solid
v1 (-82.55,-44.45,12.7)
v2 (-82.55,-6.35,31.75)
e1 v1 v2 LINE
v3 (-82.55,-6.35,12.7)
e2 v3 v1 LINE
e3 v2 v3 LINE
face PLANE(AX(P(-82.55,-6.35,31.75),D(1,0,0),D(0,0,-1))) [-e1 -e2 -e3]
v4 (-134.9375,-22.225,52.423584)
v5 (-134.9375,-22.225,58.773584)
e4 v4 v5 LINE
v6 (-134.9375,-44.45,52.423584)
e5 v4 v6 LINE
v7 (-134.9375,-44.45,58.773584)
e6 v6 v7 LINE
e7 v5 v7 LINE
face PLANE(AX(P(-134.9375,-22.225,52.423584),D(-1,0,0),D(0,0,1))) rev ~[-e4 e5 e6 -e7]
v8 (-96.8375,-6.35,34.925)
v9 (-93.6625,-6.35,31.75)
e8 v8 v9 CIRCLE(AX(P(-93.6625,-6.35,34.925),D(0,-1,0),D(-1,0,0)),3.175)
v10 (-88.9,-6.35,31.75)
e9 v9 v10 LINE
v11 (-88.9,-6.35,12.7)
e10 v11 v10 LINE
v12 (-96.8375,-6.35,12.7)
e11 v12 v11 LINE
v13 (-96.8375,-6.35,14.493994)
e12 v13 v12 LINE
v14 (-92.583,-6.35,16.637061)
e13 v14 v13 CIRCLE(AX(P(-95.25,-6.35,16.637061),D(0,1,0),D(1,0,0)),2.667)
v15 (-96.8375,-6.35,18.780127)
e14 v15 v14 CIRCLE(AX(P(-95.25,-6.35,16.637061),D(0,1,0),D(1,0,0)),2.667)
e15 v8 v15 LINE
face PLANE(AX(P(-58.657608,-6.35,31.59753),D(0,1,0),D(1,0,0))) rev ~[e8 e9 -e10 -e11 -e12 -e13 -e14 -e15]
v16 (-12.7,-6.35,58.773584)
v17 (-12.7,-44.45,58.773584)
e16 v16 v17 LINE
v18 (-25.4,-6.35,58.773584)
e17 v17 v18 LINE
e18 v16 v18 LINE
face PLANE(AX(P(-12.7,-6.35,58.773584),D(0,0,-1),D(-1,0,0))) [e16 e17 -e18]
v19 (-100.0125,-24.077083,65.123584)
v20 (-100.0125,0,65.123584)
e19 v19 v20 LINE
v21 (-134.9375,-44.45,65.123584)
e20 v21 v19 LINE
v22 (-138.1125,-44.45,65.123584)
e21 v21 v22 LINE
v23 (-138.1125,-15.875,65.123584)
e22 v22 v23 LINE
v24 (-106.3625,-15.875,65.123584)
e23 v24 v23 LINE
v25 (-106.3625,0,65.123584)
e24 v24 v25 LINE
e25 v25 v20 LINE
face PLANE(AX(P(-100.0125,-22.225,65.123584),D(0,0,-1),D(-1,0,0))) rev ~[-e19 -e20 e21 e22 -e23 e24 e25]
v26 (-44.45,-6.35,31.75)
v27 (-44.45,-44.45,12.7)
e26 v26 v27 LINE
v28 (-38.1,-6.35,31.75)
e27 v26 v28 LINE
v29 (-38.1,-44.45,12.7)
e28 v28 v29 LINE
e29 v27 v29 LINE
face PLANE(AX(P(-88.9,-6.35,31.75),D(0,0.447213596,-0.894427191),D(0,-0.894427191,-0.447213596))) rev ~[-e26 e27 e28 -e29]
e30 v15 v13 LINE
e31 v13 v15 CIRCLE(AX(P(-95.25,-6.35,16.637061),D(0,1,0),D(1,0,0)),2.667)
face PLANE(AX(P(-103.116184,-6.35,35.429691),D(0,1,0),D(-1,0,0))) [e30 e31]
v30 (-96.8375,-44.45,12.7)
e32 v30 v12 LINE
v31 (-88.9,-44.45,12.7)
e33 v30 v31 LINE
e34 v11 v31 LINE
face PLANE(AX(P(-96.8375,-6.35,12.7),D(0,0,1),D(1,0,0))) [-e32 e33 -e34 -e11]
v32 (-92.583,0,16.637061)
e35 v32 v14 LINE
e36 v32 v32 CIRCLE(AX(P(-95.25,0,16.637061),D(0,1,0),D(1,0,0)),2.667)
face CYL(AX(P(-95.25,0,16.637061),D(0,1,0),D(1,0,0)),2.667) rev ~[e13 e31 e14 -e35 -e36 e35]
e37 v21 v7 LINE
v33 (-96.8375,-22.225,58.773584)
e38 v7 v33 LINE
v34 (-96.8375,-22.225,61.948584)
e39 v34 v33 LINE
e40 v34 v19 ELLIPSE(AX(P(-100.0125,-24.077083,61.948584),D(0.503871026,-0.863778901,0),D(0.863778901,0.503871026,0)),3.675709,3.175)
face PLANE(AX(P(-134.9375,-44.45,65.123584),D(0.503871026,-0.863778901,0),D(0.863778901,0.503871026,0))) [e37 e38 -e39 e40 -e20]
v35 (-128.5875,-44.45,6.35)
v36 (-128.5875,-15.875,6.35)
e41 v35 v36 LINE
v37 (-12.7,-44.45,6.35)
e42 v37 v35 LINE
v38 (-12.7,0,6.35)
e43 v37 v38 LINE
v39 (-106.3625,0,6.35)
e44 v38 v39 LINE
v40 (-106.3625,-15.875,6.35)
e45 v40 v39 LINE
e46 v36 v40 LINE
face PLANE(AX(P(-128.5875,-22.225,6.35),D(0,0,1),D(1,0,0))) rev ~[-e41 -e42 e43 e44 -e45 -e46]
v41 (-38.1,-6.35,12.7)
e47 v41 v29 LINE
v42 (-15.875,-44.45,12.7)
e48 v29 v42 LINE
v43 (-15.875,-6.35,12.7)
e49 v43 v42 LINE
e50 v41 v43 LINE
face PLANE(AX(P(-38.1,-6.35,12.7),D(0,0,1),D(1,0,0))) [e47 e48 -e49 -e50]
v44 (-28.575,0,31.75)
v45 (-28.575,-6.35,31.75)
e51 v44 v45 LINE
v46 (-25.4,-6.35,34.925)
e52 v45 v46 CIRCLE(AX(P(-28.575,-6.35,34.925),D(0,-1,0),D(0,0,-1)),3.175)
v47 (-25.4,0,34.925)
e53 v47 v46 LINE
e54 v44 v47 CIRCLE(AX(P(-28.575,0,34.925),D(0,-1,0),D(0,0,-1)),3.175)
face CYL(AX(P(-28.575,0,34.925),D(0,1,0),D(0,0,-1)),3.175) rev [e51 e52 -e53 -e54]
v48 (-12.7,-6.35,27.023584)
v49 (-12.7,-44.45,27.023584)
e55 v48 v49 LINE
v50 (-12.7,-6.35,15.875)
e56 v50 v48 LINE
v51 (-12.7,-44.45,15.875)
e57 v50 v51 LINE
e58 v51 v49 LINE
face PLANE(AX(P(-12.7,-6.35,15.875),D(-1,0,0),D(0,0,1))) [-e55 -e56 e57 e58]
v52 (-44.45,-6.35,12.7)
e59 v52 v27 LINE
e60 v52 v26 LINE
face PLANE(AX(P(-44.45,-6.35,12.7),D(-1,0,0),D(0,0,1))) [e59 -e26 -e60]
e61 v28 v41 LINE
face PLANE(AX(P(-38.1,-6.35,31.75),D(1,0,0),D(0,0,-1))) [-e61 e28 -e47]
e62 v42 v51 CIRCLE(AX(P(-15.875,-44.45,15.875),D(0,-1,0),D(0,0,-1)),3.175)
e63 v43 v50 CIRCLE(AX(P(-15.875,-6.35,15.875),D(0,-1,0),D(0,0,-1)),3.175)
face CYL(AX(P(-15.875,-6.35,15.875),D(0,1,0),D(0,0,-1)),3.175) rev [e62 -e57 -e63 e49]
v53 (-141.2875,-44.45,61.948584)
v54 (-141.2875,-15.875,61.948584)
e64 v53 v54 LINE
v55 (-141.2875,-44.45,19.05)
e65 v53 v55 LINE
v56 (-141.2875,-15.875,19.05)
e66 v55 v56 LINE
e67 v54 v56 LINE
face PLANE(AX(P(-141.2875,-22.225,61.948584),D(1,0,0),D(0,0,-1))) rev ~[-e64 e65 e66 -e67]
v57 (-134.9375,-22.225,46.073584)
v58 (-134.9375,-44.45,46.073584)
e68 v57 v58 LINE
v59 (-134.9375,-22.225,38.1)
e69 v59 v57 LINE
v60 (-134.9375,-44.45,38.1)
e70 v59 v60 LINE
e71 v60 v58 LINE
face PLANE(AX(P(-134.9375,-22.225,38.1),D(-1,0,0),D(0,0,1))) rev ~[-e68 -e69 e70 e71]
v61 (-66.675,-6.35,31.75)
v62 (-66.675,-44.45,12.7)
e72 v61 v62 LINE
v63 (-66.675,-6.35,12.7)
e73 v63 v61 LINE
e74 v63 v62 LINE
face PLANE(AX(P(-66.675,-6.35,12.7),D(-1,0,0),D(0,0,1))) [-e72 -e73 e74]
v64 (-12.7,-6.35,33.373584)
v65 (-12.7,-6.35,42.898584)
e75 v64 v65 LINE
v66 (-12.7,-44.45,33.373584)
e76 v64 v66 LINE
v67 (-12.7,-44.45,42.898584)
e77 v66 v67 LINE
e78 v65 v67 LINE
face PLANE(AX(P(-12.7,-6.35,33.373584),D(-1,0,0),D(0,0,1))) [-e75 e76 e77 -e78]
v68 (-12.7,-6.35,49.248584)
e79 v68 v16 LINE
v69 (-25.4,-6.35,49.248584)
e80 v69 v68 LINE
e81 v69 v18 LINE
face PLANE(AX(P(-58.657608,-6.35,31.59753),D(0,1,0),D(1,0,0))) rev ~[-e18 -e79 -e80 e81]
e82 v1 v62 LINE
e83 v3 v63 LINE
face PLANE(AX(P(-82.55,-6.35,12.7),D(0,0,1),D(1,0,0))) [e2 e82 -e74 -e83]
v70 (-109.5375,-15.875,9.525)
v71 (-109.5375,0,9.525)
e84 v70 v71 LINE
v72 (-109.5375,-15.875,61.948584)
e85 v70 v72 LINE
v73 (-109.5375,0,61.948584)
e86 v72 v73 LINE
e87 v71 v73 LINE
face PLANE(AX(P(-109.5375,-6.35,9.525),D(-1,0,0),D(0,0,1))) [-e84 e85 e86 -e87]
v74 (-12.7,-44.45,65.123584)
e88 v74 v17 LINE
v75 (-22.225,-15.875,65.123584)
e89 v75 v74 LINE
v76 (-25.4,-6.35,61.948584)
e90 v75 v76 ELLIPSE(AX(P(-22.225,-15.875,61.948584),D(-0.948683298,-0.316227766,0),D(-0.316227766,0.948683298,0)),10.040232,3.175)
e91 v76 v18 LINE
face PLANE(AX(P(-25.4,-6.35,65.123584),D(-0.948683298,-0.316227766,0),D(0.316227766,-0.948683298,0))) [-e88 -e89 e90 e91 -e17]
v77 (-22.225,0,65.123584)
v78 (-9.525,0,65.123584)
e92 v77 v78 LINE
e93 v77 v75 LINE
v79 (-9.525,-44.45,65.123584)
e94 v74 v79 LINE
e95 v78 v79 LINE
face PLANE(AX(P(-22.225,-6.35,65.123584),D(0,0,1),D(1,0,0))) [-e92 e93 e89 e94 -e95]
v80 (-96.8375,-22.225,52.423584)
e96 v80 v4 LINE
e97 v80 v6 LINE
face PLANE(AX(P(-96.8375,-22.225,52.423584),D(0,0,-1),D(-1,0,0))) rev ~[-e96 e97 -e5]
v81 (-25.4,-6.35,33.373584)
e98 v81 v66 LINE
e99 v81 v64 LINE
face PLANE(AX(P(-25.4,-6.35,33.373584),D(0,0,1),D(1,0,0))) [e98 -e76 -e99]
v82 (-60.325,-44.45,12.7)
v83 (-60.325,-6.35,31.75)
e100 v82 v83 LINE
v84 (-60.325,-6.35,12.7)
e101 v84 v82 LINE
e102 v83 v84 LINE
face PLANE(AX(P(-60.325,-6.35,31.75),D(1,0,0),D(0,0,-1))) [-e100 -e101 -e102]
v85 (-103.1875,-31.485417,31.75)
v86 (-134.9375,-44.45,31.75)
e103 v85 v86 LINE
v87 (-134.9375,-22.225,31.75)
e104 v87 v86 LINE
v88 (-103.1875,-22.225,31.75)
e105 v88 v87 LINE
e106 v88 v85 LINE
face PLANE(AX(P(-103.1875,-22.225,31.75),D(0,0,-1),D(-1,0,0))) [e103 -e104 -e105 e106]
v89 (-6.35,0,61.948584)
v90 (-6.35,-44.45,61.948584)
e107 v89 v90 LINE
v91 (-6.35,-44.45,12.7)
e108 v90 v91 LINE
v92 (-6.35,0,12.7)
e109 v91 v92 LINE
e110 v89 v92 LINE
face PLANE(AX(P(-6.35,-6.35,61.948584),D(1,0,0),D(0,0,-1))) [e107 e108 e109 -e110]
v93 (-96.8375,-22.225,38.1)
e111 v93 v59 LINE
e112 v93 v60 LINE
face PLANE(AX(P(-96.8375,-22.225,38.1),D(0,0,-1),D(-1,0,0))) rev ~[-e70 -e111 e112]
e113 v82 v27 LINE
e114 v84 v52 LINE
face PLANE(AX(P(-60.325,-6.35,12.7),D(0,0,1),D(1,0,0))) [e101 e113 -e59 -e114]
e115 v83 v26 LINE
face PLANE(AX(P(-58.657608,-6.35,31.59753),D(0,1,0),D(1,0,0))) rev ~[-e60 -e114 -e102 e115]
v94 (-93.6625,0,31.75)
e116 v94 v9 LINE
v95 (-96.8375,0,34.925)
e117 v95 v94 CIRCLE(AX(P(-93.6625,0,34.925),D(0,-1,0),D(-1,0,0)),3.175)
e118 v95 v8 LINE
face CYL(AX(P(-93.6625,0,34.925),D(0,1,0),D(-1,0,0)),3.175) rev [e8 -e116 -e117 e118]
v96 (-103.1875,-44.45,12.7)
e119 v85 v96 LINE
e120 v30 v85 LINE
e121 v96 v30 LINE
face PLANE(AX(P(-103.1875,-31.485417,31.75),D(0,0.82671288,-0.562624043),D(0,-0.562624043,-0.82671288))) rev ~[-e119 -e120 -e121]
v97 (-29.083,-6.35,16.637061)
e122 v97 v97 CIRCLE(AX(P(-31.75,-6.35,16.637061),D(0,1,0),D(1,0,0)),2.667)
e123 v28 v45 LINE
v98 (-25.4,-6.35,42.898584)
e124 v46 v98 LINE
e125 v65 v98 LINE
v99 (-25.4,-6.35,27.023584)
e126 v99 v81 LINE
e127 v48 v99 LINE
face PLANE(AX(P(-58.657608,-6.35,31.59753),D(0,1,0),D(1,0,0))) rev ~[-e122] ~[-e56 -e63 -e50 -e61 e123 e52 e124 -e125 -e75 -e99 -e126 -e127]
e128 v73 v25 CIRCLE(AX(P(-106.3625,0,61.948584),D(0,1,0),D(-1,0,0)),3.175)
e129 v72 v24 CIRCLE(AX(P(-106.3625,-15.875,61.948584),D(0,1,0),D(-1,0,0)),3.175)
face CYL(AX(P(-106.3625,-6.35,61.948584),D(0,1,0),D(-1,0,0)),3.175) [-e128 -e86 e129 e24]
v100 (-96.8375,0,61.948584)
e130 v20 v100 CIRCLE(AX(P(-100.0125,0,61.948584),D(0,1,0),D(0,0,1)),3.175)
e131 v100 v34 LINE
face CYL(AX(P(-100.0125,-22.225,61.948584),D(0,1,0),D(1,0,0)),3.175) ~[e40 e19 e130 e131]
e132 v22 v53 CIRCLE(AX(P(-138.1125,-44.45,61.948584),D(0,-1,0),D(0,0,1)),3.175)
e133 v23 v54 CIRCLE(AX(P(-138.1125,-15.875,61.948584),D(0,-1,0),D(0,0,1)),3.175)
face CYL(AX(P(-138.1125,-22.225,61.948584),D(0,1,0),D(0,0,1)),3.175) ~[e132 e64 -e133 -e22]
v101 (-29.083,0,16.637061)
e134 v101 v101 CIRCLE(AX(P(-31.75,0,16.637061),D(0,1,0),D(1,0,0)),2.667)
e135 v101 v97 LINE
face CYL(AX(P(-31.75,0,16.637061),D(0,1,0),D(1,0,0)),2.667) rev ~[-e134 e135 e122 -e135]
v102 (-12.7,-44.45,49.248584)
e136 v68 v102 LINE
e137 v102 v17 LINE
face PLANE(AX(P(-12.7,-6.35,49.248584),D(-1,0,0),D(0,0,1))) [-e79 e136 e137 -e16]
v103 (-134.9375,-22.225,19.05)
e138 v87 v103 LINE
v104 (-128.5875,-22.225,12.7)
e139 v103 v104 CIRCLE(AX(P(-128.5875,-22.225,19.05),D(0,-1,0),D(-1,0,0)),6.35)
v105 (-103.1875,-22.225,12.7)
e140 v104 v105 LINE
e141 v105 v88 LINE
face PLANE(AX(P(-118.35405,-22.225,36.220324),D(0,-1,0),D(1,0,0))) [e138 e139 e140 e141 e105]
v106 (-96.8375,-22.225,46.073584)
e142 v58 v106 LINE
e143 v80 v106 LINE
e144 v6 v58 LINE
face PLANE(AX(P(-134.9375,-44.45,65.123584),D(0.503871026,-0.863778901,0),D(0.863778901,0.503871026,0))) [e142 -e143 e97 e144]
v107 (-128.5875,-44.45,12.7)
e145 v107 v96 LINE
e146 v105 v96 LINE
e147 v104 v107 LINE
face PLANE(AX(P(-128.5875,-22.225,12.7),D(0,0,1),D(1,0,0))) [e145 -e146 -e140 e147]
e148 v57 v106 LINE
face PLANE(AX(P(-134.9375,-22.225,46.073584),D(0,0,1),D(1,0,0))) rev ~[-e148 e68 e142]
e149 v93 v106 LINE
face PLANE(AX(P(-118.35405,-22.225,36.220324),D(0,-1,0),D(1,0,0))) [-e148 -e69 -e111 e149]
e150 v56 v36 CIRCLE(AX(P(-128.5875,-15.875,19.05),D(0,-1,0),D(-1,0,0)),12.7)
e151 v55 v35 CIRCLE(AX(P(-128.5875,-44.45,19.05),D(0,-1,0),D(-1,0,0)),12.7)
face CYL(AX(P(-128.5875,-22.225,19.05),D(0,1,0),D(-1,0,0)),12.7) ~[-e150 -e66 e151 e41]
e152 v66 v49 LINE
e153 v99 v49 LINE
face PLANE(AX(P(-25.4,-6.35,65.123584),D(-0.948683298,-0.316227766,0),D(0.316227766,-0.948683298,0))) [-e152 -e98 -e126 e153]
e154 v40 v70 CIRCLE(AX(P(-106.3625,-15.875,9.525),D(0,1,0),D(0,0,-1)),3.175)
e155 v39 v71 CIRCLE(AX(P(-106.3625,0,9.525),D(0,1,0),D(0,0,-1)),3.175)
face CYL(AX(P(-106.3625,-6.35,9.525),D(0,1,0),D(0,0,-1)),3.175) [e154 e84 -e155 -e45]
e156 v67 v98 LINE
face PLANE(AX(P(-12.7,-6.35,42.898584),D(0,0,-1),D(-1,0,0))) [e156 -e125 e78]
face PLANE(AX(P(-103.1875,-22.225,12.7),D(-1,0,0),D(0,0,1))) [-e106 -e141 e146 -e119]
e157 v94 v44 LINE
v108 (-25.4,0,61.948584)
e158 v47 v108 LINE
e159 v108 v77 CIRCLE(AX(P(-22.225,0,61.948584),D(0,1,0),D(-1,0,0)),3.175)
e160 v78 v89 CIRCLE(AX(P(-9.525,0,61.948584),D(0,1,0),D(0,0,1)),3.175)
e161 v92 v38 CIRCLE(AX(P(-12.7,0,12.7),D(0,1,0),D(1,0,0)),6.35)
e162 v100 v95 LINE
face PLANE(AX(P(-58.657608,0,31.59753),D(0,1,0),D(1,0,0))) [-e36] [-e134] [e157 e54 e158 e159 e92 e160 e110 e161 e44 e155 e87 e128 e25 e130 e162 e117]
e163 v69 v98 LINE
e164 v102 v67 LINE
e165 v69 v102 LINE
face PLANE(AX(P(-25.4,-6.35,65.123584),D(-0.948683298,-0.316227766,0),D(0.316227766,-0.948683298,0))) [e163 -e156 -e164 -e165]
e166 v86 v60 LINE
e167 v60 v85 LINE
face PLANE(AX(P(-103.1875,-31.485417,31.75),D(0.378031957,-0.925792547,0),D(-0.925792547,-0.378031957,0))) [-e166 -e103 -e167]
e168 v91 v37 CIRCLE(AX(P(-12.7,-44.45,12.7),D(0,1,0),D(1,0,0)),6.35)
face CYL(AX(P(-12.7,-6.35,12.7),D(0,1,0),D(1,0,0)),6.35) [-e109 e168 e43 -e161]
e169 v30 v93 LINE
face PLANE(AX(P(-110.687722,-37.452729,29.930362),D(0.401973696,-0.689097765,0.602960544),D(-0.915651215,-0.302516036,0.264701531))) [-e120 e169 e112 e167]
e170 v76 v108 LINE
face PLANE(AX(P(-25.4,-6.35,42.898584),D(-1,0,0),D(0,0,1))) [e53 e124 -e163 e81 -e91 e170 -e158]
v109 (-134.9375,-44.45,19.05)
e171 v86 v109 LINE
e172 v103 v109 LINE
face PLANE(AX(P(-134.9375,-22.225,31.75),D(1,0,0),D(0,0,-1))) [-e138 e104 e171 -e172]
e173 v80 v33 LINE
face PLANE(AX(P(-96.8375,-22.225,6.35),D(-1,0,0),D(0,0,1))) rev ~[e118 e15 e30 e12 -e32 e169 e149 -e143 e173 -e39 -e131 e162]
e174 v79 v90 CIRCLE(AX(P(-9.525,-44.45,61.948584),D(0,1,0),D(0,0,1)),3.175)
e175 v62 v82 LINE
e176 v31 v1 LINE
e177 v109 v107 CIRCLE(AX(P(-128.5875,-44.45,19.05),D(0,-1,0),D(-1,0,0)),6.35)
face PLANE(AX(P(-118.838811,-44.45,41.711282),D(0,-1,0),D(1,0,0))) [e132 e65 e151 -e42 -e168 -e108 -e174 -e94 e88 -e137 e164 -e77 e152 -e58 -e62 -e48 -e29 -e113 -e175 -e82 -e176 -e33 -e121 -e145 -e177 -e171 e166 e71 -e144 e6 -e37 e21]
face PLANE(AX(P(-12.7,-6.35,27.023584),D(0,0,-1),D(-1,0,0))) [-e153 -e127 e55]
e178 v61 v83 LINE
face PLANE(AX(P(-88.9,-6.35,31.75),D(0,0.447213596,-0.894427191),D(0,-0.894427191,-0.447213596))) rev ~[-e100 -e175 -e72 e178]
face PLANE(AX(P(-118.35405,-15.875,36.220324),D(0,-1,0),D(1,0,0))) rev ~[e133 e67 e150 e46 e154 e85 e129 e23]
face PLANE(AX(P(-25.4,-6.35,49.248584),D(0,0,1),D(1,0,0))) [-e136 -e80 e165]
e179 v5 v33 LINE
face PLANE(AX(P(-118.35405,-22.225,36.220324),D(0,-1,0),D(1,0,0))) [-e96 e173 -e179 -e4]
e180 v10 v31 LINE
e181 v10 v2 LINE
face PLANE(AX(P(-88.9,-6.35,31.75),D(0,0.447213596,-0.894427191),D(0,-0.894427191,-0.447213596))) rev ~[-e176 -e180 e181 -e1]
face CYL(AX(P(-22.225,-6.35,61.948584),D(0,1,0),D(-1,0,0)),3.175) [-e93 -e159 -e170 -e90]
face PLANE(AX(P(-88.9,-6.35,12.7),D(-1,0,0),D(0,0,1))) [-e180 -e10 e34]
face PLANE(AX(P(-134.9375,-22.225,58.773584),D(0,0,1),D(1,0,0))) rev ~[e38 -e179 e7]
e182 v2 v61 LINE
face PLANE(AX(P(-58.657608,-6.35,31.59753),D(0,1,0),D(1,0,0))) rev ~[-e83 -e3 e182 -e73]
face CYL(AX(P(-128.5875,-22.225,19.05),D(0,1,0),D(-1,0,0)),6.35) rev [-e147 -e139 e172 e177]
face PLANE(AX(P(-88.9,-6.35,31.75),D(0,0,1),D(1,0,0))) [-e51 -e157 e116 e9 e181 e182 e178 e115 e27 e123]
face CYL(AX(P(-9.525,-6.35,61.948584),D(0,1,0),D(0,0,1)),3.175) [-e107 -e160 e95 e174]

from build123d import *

# Parameters (mm, degrees)
SKETCH2_R           = 2.667
BOSS_EXTRUDE1_DEPTH = 6.35
BOSS_EXTRUDE2_DEPTH = 38.1
CUT_EXTRUDE1_DEPTH  = 50.8
CUT_EXTRUDE2_DEPTH  = 38.1
BOSS_EXTRUDE3_DEPTH = 9.525
BOSS_EXTRUDE4_DEPTH = 6.35
BOSS_EXTRUDE5_DEPTH = 22.225
CUT_EXTRUDE4_DEPTH  = 19.05
CUT_EXTRUDE7_DEPTH  = 19.05
CUT_EXTRUDE8_DEPTH  = 6.35
CUT_EXTRUDE9_DEPTH  = 6.35


with BuildPart() as part:
    # Sketch2 → Boss-Extrude1 (new body)
    with BuildSketch(Plane(origin=(0, 0, 0), x_dir=(1, 0, 0), z_dir=(0, 1, 0))):
        with BuildLine():
            Line((-109.5375, -9.525), (-109.5375, -61.948583794))
            ThreePointArc((-109.5375, -61.948583794), (-108.60756403, -64.193647824), (-106.3625, -65.123583794))
            Line((-106.3625, -65.123583794), (-100.0125, -65.123583794))
            ThreePointArc((-100.0125, -65.123583794), (-97.76743597, -64.193647824), (-96.8375, -61.948583794))
            Line((-96.8375, -61.948583794), (-96.8375, -34.925))
            ThreePointArc((-96.8375, -34.925), (-95.90756403, -32.67993597), (-93.6625, -31.75))
            Line((-93.6625, -31.75), (-28.575, -31.75))
            ThreePointArc((-28.575, -31.75), (-26.32993597, -32.67993597), (-25.4, -34.925))
            Line((-25.4, -34.925), (-25.4, -61.948583794))
            ThreePointArc((-25.4, -61.948583794), (-24.47006403, -64.193647824), (-22.225, -65.123583794))
            Line((-22.225, -65.123583794), (-9.525, -65.123583794))
            ThreePointArc((-9.525, -65.123583794), (-7.27993597, -64.193647824), (-6.35, -61.948583794))
            Line((-6.35, -61.948583794), (-6.35, -12.7))
            ThreePointArc((-6.35, -12.7), (-8.209871939, -8.209871939), (-12.7, -6.35))
            Line((-12.7, -6.35), (-106.3625, -6.35))
            ThreePointArc((-106.3625, -6.35), (-108.60756403, -7.27993597), (-109.5375, -9.525))
        make_face()
        with Locations((-95.25, -16.637060646)):
            Circle(SKETCH2_R, mode=Mode.SUBTRACT)
        with Locations((-31.75, -16.637060646)):
            Circle(SKETCH2_R, mode=Mode.SUBTRACT)
    extrude(amount=-BOSS_EXTRUDE1_DEPTH)

    # Sketch3 → Boss-Extrude2 (add)
    with BuildSketch(Plane.XZ.offset(6.35)):
        with BuildLine():
            Line((-6.35, 61.948583794), (-6.35, 12.7))
            ThreePointArc((-6.35, 12.7), (-8.209871939, 8.209871939), (-12.7, 6.35))
            Line((-12.7, 6.35), (-96.8375, 6.35))
            Line((-96.8375, 6.35), (-96.8375, 12.7))
            Line((-96.8375, 12.7), (-88.9, 12.7))
            Line((-88.9, 12.7), (-88.9, 31.75))
            Line((-88.9, 31.75), (-82.55, 31.75))
            Line((-82.55, 31.75), (-82.55, 12.7))
            Line((-82.55, 12.7), (-66.675, 12.7))
            Line((-66.675, 12.7), (-66.675, 31.75))
            Line((-66.675, 31.75), (-60.325, 31.75))
            Line((-60.325, 31.75), (-60.325, 12.7))
            Line((-60.325, 12.7), (-44.45, 12.7))
            Line((-44.45, 12.7), (-44.45, 31.75))
            Line((-44.45, 31.75), (-38.1, 31.75))
            Line((-38.1, 31.75), (-38.1, 12.7))
            Line((-38.1, 12.7), (-15.875, 12.7))
            ThreePointArc((-15.875, 12.7), (-13.62993597, 13.62993597), (-12.7, 15.875))
            Line((-12.7, 15.875), (-12.7, 27.023583794))
            Line((-12.7, 27.023583794), (-25.4, 27.023583794))
            Line((-25.4, 27.023583794), (-25.4, 33.373583794))
            Line((-25.4, 33.373583794), (-12.7, 33.373583794))
            Line((-12.7, 33.373583794), (-12.7, 42.898583794))
            Line((-12.7, 42.898583794), (-25.4, 42.898583794))
            Line((-25.4, 42.898583794), (-25.4, 49.248583794))
            Line((-25.4, 49.248583794), (-12.7, 49.248583794))
            Line((-12.7, 49.248583794), (-12.7, 58.773583794))
            Line((-12.7, 58.773583794), (-25.4, 58.773583794))
            Line((-25.4, 58.773583794), (-25.4, 61.948583794))
            ThreePointArc((-25.4, 61.948583794), (-24.47006403, 64.193647824), (-22.225, 65.123583794))
            Line((-22.225, 65.123583794), (-9.525, 65.123583794))
            ThreePointArc((-9.525, 65.123583794), (-7.27993597, 64.193647824), (-6.35, 61.948583794))
        make_face()
    extrude(amount=BOSS_EXTRUDE2_DEPTH)

    # Sketch4 → Cut-Extrude1 (cut)
    with BuildSketch(Plane.ZY.offset(88.9)):
        Polygon((31.75, -6.35), (12.7, -44.45), (31.75, -44.45), align=None)
    extrude(amount=-CUT_EXTRUDE1_DEPTH, mode=Mode.SUBTRACT)

    # Sketch5 → Cut-Extrude2 (cut)
    with BuildSketch(Plane.XY.offset(65.123583794)):
        Polygon((-25.4, -6.35), (-12.7, -44.45), (-25.4, -44.45), align=None)
    extrude(amount=-CUT_EXTRUDE2_DEPTH, mode=Mode.SUBTRACT)

    # Sketch6 → Boss-Extrude3 (add)
    with BuildSketch(Plane.XZ.offset(6.35)):
        with BuildLine():
            Line((-96.8375, 6.35), (-106.3625, 6.35))
            ThreePointArc((-106.3625, 6.35), (-108.60756403, 7.27993597), (-109.5375, 9.525))
            Line((-109.5375, 9.525), (-109.5375, 61.948583794))
            ThreePointArc((-109.5375, 61.948583794), (-108.60756403, 64.193647824), (-106.3625, 65.123583794))
            Line((-106.3625, 65.123583794), (-100.0125, 65.123583794))
            ThreePointArc((-100.0125, 65.123583794), (-97.76743597, 64.193647824), (-96.8375, 61.948583794))
            Line((-96.8375, 61.948583794), (-96.8375, 6.35))
        make_face()
    extrude(amount=BOSS_EXTRUDE3_DEPTH)

    # Sketch7 → Boss-Extrude4 (add)
    with BuildSketch(Plane.XZ.offset(15.875)):
        with BuildLine():
            Line((-100.0125, 65.123583794), (-138.1125, 65.123583794))
            ThreePointArc((-138.1125, 65.123583794), (-140.35756403, 64.193647824), (-141.2875, 61.948583794))
            Line((-141.2875, 61.948583794), (-141.2875, 19.05))
            ThreePointArc((-141.2875, 19.05), (-137.567756121, 10.069743879), (-128.5875, 6.35))
            Line((-128.5875, 6.35), (-96.8375, 6.35))
            Line((-96.8375, 6.35), (-96.8375, 61.948583794))
            ThreePointArc((-96.8375, 61.948583794), (-97.76743597, 64.193647824), (-100.0125, 65.123583794))
        make_face()
    extrude(amount=BOSS_EXTRUDE4_DEPTH)

    # Sketch8 → Boss-Extrude5 (add)
    with BuildSketch(Plane.XZ.offset(22.225)):
        with BuildLine():
            Line((-128.5875, 6.35), (-96.8375, 6.35))
            Line((-96.8375, 6.35), (-96.8375, 12.7))
            Line((-96.8375, 12.7), (-96.8375, 38.1))
            Line((-96.8375, 38.1), (-134.9375, 38.1))
            Line((-134.9375, 38.1), (-134.9375, 46.073583794))
            Line((-134.9375, 46.073583794), (-96.8375, 46.073583794))
            Line((-96.8375, 46.073583794), (-96.8375, 52.423583794))
            Line((-96.8375, 52.423583794), (-134.9375, 52.423583794))
            Line((-134.9375, 52.423583794), (-134.9375, 58.773583794))
            Line((-134.9375, 58.773583794), (-96.8375, 58.773583794))
            Line((-96.8375, 58.773583794), (-96.8375, 61.948583794))
            ThreePointArc((-96.8375, 61.948583794), (-97.76743597, 64.193647824), (-100.0125, 65.123583794))
            Line((-100.0125, 65.123583794), (-138.1125, 65.123583794))
            ThreePointArc((-138.1125, 65.123583794), (-140.35756403, 64.193647824), (-141.2875, 61.948583794))
            Line((-141.2875, 61.948583794), (-141.2875, 19.05))
            ThreePointArc((-141.2875, 19.05), (-137.567756121, 10.069743879), (-128.5875, 6.35))
        make_face()
        with BuildLine():
            Line((-128.5875, 12.7), (-103.1875, 12.7))
            Line((-103.1875, 12.7), (-103.1875, 31.75))
            Line((-103.1875, 31.75), (-134.9375, 31.75))
            Line((-134.9375, 31.75), (-134.9375, 19.05))
            ThreePointArc((-134.9375, 19.05), (-133.07762806, 14.559871939), (-128.5875, 12.7))
        make_face(mode=Mode.SUBTRACT)
    extrude(amount=BOSS_EXTRUDE5_DEPTH)

    # Sketch11 → Cut-Extrude4 (cut)
    with BuildSketch(Plane.XY.offset(65.123583794)):
        Polygon((-134.9375, -44.45), (-96.8375, -22.225), (-96.8375, -44.45), align=None)
    extrude(amount=-CUT_EXTRUDE4_DEPTH, mode=Mode.SUBTRACT)

    # Sketch23 → Cut-Extrude7 (cut)
    with BuildSketch(Plane(origin=(-0.256512778, 0.439736191, -0.384769167), x_dir=(0.915651215, 0.302516036, -0.264701531), z_dir=(-0.401973696, 0.689097765, -0.602960544))):
        Polygon((-105.477921765, 19.712805797), (-105.477921765, -14.037907158), (-147.087651949, 0.597357751), align=None)
    extrude(amount=-CUT_EXTRUDE7_DEPTH, mode=Mode.SUBTRACT)

    # Sketch24 → Cut-Extrude8 (cut)
    with BuildSketch(Plane.ZY.offset(103.1875)):
        Polygon((31.75, -31.485416667), (12.7, -44.45), (16.933333333, -44.45), align=None)
    extrude(amount=-CUT_EXTRUDE8_DEPTH, mode=Mode.SUBTRACT)

    # Sketch25 → Cut-Extrude9 (cut)
    with BuildSketch(Plane(origin=(0, 0, 31.75), x_dir=(-1, 0, 0), z_dir=(0, 0, -1))):
        Polygon((103.1875, -31.485416667), (134.9375, -44.45), (125.4125, -44.45), align=None)
    extrude(amount=-CUT_EXTRUDE9_DEPTH, mode=Mode.SUBTRACT)


solid = part.part
